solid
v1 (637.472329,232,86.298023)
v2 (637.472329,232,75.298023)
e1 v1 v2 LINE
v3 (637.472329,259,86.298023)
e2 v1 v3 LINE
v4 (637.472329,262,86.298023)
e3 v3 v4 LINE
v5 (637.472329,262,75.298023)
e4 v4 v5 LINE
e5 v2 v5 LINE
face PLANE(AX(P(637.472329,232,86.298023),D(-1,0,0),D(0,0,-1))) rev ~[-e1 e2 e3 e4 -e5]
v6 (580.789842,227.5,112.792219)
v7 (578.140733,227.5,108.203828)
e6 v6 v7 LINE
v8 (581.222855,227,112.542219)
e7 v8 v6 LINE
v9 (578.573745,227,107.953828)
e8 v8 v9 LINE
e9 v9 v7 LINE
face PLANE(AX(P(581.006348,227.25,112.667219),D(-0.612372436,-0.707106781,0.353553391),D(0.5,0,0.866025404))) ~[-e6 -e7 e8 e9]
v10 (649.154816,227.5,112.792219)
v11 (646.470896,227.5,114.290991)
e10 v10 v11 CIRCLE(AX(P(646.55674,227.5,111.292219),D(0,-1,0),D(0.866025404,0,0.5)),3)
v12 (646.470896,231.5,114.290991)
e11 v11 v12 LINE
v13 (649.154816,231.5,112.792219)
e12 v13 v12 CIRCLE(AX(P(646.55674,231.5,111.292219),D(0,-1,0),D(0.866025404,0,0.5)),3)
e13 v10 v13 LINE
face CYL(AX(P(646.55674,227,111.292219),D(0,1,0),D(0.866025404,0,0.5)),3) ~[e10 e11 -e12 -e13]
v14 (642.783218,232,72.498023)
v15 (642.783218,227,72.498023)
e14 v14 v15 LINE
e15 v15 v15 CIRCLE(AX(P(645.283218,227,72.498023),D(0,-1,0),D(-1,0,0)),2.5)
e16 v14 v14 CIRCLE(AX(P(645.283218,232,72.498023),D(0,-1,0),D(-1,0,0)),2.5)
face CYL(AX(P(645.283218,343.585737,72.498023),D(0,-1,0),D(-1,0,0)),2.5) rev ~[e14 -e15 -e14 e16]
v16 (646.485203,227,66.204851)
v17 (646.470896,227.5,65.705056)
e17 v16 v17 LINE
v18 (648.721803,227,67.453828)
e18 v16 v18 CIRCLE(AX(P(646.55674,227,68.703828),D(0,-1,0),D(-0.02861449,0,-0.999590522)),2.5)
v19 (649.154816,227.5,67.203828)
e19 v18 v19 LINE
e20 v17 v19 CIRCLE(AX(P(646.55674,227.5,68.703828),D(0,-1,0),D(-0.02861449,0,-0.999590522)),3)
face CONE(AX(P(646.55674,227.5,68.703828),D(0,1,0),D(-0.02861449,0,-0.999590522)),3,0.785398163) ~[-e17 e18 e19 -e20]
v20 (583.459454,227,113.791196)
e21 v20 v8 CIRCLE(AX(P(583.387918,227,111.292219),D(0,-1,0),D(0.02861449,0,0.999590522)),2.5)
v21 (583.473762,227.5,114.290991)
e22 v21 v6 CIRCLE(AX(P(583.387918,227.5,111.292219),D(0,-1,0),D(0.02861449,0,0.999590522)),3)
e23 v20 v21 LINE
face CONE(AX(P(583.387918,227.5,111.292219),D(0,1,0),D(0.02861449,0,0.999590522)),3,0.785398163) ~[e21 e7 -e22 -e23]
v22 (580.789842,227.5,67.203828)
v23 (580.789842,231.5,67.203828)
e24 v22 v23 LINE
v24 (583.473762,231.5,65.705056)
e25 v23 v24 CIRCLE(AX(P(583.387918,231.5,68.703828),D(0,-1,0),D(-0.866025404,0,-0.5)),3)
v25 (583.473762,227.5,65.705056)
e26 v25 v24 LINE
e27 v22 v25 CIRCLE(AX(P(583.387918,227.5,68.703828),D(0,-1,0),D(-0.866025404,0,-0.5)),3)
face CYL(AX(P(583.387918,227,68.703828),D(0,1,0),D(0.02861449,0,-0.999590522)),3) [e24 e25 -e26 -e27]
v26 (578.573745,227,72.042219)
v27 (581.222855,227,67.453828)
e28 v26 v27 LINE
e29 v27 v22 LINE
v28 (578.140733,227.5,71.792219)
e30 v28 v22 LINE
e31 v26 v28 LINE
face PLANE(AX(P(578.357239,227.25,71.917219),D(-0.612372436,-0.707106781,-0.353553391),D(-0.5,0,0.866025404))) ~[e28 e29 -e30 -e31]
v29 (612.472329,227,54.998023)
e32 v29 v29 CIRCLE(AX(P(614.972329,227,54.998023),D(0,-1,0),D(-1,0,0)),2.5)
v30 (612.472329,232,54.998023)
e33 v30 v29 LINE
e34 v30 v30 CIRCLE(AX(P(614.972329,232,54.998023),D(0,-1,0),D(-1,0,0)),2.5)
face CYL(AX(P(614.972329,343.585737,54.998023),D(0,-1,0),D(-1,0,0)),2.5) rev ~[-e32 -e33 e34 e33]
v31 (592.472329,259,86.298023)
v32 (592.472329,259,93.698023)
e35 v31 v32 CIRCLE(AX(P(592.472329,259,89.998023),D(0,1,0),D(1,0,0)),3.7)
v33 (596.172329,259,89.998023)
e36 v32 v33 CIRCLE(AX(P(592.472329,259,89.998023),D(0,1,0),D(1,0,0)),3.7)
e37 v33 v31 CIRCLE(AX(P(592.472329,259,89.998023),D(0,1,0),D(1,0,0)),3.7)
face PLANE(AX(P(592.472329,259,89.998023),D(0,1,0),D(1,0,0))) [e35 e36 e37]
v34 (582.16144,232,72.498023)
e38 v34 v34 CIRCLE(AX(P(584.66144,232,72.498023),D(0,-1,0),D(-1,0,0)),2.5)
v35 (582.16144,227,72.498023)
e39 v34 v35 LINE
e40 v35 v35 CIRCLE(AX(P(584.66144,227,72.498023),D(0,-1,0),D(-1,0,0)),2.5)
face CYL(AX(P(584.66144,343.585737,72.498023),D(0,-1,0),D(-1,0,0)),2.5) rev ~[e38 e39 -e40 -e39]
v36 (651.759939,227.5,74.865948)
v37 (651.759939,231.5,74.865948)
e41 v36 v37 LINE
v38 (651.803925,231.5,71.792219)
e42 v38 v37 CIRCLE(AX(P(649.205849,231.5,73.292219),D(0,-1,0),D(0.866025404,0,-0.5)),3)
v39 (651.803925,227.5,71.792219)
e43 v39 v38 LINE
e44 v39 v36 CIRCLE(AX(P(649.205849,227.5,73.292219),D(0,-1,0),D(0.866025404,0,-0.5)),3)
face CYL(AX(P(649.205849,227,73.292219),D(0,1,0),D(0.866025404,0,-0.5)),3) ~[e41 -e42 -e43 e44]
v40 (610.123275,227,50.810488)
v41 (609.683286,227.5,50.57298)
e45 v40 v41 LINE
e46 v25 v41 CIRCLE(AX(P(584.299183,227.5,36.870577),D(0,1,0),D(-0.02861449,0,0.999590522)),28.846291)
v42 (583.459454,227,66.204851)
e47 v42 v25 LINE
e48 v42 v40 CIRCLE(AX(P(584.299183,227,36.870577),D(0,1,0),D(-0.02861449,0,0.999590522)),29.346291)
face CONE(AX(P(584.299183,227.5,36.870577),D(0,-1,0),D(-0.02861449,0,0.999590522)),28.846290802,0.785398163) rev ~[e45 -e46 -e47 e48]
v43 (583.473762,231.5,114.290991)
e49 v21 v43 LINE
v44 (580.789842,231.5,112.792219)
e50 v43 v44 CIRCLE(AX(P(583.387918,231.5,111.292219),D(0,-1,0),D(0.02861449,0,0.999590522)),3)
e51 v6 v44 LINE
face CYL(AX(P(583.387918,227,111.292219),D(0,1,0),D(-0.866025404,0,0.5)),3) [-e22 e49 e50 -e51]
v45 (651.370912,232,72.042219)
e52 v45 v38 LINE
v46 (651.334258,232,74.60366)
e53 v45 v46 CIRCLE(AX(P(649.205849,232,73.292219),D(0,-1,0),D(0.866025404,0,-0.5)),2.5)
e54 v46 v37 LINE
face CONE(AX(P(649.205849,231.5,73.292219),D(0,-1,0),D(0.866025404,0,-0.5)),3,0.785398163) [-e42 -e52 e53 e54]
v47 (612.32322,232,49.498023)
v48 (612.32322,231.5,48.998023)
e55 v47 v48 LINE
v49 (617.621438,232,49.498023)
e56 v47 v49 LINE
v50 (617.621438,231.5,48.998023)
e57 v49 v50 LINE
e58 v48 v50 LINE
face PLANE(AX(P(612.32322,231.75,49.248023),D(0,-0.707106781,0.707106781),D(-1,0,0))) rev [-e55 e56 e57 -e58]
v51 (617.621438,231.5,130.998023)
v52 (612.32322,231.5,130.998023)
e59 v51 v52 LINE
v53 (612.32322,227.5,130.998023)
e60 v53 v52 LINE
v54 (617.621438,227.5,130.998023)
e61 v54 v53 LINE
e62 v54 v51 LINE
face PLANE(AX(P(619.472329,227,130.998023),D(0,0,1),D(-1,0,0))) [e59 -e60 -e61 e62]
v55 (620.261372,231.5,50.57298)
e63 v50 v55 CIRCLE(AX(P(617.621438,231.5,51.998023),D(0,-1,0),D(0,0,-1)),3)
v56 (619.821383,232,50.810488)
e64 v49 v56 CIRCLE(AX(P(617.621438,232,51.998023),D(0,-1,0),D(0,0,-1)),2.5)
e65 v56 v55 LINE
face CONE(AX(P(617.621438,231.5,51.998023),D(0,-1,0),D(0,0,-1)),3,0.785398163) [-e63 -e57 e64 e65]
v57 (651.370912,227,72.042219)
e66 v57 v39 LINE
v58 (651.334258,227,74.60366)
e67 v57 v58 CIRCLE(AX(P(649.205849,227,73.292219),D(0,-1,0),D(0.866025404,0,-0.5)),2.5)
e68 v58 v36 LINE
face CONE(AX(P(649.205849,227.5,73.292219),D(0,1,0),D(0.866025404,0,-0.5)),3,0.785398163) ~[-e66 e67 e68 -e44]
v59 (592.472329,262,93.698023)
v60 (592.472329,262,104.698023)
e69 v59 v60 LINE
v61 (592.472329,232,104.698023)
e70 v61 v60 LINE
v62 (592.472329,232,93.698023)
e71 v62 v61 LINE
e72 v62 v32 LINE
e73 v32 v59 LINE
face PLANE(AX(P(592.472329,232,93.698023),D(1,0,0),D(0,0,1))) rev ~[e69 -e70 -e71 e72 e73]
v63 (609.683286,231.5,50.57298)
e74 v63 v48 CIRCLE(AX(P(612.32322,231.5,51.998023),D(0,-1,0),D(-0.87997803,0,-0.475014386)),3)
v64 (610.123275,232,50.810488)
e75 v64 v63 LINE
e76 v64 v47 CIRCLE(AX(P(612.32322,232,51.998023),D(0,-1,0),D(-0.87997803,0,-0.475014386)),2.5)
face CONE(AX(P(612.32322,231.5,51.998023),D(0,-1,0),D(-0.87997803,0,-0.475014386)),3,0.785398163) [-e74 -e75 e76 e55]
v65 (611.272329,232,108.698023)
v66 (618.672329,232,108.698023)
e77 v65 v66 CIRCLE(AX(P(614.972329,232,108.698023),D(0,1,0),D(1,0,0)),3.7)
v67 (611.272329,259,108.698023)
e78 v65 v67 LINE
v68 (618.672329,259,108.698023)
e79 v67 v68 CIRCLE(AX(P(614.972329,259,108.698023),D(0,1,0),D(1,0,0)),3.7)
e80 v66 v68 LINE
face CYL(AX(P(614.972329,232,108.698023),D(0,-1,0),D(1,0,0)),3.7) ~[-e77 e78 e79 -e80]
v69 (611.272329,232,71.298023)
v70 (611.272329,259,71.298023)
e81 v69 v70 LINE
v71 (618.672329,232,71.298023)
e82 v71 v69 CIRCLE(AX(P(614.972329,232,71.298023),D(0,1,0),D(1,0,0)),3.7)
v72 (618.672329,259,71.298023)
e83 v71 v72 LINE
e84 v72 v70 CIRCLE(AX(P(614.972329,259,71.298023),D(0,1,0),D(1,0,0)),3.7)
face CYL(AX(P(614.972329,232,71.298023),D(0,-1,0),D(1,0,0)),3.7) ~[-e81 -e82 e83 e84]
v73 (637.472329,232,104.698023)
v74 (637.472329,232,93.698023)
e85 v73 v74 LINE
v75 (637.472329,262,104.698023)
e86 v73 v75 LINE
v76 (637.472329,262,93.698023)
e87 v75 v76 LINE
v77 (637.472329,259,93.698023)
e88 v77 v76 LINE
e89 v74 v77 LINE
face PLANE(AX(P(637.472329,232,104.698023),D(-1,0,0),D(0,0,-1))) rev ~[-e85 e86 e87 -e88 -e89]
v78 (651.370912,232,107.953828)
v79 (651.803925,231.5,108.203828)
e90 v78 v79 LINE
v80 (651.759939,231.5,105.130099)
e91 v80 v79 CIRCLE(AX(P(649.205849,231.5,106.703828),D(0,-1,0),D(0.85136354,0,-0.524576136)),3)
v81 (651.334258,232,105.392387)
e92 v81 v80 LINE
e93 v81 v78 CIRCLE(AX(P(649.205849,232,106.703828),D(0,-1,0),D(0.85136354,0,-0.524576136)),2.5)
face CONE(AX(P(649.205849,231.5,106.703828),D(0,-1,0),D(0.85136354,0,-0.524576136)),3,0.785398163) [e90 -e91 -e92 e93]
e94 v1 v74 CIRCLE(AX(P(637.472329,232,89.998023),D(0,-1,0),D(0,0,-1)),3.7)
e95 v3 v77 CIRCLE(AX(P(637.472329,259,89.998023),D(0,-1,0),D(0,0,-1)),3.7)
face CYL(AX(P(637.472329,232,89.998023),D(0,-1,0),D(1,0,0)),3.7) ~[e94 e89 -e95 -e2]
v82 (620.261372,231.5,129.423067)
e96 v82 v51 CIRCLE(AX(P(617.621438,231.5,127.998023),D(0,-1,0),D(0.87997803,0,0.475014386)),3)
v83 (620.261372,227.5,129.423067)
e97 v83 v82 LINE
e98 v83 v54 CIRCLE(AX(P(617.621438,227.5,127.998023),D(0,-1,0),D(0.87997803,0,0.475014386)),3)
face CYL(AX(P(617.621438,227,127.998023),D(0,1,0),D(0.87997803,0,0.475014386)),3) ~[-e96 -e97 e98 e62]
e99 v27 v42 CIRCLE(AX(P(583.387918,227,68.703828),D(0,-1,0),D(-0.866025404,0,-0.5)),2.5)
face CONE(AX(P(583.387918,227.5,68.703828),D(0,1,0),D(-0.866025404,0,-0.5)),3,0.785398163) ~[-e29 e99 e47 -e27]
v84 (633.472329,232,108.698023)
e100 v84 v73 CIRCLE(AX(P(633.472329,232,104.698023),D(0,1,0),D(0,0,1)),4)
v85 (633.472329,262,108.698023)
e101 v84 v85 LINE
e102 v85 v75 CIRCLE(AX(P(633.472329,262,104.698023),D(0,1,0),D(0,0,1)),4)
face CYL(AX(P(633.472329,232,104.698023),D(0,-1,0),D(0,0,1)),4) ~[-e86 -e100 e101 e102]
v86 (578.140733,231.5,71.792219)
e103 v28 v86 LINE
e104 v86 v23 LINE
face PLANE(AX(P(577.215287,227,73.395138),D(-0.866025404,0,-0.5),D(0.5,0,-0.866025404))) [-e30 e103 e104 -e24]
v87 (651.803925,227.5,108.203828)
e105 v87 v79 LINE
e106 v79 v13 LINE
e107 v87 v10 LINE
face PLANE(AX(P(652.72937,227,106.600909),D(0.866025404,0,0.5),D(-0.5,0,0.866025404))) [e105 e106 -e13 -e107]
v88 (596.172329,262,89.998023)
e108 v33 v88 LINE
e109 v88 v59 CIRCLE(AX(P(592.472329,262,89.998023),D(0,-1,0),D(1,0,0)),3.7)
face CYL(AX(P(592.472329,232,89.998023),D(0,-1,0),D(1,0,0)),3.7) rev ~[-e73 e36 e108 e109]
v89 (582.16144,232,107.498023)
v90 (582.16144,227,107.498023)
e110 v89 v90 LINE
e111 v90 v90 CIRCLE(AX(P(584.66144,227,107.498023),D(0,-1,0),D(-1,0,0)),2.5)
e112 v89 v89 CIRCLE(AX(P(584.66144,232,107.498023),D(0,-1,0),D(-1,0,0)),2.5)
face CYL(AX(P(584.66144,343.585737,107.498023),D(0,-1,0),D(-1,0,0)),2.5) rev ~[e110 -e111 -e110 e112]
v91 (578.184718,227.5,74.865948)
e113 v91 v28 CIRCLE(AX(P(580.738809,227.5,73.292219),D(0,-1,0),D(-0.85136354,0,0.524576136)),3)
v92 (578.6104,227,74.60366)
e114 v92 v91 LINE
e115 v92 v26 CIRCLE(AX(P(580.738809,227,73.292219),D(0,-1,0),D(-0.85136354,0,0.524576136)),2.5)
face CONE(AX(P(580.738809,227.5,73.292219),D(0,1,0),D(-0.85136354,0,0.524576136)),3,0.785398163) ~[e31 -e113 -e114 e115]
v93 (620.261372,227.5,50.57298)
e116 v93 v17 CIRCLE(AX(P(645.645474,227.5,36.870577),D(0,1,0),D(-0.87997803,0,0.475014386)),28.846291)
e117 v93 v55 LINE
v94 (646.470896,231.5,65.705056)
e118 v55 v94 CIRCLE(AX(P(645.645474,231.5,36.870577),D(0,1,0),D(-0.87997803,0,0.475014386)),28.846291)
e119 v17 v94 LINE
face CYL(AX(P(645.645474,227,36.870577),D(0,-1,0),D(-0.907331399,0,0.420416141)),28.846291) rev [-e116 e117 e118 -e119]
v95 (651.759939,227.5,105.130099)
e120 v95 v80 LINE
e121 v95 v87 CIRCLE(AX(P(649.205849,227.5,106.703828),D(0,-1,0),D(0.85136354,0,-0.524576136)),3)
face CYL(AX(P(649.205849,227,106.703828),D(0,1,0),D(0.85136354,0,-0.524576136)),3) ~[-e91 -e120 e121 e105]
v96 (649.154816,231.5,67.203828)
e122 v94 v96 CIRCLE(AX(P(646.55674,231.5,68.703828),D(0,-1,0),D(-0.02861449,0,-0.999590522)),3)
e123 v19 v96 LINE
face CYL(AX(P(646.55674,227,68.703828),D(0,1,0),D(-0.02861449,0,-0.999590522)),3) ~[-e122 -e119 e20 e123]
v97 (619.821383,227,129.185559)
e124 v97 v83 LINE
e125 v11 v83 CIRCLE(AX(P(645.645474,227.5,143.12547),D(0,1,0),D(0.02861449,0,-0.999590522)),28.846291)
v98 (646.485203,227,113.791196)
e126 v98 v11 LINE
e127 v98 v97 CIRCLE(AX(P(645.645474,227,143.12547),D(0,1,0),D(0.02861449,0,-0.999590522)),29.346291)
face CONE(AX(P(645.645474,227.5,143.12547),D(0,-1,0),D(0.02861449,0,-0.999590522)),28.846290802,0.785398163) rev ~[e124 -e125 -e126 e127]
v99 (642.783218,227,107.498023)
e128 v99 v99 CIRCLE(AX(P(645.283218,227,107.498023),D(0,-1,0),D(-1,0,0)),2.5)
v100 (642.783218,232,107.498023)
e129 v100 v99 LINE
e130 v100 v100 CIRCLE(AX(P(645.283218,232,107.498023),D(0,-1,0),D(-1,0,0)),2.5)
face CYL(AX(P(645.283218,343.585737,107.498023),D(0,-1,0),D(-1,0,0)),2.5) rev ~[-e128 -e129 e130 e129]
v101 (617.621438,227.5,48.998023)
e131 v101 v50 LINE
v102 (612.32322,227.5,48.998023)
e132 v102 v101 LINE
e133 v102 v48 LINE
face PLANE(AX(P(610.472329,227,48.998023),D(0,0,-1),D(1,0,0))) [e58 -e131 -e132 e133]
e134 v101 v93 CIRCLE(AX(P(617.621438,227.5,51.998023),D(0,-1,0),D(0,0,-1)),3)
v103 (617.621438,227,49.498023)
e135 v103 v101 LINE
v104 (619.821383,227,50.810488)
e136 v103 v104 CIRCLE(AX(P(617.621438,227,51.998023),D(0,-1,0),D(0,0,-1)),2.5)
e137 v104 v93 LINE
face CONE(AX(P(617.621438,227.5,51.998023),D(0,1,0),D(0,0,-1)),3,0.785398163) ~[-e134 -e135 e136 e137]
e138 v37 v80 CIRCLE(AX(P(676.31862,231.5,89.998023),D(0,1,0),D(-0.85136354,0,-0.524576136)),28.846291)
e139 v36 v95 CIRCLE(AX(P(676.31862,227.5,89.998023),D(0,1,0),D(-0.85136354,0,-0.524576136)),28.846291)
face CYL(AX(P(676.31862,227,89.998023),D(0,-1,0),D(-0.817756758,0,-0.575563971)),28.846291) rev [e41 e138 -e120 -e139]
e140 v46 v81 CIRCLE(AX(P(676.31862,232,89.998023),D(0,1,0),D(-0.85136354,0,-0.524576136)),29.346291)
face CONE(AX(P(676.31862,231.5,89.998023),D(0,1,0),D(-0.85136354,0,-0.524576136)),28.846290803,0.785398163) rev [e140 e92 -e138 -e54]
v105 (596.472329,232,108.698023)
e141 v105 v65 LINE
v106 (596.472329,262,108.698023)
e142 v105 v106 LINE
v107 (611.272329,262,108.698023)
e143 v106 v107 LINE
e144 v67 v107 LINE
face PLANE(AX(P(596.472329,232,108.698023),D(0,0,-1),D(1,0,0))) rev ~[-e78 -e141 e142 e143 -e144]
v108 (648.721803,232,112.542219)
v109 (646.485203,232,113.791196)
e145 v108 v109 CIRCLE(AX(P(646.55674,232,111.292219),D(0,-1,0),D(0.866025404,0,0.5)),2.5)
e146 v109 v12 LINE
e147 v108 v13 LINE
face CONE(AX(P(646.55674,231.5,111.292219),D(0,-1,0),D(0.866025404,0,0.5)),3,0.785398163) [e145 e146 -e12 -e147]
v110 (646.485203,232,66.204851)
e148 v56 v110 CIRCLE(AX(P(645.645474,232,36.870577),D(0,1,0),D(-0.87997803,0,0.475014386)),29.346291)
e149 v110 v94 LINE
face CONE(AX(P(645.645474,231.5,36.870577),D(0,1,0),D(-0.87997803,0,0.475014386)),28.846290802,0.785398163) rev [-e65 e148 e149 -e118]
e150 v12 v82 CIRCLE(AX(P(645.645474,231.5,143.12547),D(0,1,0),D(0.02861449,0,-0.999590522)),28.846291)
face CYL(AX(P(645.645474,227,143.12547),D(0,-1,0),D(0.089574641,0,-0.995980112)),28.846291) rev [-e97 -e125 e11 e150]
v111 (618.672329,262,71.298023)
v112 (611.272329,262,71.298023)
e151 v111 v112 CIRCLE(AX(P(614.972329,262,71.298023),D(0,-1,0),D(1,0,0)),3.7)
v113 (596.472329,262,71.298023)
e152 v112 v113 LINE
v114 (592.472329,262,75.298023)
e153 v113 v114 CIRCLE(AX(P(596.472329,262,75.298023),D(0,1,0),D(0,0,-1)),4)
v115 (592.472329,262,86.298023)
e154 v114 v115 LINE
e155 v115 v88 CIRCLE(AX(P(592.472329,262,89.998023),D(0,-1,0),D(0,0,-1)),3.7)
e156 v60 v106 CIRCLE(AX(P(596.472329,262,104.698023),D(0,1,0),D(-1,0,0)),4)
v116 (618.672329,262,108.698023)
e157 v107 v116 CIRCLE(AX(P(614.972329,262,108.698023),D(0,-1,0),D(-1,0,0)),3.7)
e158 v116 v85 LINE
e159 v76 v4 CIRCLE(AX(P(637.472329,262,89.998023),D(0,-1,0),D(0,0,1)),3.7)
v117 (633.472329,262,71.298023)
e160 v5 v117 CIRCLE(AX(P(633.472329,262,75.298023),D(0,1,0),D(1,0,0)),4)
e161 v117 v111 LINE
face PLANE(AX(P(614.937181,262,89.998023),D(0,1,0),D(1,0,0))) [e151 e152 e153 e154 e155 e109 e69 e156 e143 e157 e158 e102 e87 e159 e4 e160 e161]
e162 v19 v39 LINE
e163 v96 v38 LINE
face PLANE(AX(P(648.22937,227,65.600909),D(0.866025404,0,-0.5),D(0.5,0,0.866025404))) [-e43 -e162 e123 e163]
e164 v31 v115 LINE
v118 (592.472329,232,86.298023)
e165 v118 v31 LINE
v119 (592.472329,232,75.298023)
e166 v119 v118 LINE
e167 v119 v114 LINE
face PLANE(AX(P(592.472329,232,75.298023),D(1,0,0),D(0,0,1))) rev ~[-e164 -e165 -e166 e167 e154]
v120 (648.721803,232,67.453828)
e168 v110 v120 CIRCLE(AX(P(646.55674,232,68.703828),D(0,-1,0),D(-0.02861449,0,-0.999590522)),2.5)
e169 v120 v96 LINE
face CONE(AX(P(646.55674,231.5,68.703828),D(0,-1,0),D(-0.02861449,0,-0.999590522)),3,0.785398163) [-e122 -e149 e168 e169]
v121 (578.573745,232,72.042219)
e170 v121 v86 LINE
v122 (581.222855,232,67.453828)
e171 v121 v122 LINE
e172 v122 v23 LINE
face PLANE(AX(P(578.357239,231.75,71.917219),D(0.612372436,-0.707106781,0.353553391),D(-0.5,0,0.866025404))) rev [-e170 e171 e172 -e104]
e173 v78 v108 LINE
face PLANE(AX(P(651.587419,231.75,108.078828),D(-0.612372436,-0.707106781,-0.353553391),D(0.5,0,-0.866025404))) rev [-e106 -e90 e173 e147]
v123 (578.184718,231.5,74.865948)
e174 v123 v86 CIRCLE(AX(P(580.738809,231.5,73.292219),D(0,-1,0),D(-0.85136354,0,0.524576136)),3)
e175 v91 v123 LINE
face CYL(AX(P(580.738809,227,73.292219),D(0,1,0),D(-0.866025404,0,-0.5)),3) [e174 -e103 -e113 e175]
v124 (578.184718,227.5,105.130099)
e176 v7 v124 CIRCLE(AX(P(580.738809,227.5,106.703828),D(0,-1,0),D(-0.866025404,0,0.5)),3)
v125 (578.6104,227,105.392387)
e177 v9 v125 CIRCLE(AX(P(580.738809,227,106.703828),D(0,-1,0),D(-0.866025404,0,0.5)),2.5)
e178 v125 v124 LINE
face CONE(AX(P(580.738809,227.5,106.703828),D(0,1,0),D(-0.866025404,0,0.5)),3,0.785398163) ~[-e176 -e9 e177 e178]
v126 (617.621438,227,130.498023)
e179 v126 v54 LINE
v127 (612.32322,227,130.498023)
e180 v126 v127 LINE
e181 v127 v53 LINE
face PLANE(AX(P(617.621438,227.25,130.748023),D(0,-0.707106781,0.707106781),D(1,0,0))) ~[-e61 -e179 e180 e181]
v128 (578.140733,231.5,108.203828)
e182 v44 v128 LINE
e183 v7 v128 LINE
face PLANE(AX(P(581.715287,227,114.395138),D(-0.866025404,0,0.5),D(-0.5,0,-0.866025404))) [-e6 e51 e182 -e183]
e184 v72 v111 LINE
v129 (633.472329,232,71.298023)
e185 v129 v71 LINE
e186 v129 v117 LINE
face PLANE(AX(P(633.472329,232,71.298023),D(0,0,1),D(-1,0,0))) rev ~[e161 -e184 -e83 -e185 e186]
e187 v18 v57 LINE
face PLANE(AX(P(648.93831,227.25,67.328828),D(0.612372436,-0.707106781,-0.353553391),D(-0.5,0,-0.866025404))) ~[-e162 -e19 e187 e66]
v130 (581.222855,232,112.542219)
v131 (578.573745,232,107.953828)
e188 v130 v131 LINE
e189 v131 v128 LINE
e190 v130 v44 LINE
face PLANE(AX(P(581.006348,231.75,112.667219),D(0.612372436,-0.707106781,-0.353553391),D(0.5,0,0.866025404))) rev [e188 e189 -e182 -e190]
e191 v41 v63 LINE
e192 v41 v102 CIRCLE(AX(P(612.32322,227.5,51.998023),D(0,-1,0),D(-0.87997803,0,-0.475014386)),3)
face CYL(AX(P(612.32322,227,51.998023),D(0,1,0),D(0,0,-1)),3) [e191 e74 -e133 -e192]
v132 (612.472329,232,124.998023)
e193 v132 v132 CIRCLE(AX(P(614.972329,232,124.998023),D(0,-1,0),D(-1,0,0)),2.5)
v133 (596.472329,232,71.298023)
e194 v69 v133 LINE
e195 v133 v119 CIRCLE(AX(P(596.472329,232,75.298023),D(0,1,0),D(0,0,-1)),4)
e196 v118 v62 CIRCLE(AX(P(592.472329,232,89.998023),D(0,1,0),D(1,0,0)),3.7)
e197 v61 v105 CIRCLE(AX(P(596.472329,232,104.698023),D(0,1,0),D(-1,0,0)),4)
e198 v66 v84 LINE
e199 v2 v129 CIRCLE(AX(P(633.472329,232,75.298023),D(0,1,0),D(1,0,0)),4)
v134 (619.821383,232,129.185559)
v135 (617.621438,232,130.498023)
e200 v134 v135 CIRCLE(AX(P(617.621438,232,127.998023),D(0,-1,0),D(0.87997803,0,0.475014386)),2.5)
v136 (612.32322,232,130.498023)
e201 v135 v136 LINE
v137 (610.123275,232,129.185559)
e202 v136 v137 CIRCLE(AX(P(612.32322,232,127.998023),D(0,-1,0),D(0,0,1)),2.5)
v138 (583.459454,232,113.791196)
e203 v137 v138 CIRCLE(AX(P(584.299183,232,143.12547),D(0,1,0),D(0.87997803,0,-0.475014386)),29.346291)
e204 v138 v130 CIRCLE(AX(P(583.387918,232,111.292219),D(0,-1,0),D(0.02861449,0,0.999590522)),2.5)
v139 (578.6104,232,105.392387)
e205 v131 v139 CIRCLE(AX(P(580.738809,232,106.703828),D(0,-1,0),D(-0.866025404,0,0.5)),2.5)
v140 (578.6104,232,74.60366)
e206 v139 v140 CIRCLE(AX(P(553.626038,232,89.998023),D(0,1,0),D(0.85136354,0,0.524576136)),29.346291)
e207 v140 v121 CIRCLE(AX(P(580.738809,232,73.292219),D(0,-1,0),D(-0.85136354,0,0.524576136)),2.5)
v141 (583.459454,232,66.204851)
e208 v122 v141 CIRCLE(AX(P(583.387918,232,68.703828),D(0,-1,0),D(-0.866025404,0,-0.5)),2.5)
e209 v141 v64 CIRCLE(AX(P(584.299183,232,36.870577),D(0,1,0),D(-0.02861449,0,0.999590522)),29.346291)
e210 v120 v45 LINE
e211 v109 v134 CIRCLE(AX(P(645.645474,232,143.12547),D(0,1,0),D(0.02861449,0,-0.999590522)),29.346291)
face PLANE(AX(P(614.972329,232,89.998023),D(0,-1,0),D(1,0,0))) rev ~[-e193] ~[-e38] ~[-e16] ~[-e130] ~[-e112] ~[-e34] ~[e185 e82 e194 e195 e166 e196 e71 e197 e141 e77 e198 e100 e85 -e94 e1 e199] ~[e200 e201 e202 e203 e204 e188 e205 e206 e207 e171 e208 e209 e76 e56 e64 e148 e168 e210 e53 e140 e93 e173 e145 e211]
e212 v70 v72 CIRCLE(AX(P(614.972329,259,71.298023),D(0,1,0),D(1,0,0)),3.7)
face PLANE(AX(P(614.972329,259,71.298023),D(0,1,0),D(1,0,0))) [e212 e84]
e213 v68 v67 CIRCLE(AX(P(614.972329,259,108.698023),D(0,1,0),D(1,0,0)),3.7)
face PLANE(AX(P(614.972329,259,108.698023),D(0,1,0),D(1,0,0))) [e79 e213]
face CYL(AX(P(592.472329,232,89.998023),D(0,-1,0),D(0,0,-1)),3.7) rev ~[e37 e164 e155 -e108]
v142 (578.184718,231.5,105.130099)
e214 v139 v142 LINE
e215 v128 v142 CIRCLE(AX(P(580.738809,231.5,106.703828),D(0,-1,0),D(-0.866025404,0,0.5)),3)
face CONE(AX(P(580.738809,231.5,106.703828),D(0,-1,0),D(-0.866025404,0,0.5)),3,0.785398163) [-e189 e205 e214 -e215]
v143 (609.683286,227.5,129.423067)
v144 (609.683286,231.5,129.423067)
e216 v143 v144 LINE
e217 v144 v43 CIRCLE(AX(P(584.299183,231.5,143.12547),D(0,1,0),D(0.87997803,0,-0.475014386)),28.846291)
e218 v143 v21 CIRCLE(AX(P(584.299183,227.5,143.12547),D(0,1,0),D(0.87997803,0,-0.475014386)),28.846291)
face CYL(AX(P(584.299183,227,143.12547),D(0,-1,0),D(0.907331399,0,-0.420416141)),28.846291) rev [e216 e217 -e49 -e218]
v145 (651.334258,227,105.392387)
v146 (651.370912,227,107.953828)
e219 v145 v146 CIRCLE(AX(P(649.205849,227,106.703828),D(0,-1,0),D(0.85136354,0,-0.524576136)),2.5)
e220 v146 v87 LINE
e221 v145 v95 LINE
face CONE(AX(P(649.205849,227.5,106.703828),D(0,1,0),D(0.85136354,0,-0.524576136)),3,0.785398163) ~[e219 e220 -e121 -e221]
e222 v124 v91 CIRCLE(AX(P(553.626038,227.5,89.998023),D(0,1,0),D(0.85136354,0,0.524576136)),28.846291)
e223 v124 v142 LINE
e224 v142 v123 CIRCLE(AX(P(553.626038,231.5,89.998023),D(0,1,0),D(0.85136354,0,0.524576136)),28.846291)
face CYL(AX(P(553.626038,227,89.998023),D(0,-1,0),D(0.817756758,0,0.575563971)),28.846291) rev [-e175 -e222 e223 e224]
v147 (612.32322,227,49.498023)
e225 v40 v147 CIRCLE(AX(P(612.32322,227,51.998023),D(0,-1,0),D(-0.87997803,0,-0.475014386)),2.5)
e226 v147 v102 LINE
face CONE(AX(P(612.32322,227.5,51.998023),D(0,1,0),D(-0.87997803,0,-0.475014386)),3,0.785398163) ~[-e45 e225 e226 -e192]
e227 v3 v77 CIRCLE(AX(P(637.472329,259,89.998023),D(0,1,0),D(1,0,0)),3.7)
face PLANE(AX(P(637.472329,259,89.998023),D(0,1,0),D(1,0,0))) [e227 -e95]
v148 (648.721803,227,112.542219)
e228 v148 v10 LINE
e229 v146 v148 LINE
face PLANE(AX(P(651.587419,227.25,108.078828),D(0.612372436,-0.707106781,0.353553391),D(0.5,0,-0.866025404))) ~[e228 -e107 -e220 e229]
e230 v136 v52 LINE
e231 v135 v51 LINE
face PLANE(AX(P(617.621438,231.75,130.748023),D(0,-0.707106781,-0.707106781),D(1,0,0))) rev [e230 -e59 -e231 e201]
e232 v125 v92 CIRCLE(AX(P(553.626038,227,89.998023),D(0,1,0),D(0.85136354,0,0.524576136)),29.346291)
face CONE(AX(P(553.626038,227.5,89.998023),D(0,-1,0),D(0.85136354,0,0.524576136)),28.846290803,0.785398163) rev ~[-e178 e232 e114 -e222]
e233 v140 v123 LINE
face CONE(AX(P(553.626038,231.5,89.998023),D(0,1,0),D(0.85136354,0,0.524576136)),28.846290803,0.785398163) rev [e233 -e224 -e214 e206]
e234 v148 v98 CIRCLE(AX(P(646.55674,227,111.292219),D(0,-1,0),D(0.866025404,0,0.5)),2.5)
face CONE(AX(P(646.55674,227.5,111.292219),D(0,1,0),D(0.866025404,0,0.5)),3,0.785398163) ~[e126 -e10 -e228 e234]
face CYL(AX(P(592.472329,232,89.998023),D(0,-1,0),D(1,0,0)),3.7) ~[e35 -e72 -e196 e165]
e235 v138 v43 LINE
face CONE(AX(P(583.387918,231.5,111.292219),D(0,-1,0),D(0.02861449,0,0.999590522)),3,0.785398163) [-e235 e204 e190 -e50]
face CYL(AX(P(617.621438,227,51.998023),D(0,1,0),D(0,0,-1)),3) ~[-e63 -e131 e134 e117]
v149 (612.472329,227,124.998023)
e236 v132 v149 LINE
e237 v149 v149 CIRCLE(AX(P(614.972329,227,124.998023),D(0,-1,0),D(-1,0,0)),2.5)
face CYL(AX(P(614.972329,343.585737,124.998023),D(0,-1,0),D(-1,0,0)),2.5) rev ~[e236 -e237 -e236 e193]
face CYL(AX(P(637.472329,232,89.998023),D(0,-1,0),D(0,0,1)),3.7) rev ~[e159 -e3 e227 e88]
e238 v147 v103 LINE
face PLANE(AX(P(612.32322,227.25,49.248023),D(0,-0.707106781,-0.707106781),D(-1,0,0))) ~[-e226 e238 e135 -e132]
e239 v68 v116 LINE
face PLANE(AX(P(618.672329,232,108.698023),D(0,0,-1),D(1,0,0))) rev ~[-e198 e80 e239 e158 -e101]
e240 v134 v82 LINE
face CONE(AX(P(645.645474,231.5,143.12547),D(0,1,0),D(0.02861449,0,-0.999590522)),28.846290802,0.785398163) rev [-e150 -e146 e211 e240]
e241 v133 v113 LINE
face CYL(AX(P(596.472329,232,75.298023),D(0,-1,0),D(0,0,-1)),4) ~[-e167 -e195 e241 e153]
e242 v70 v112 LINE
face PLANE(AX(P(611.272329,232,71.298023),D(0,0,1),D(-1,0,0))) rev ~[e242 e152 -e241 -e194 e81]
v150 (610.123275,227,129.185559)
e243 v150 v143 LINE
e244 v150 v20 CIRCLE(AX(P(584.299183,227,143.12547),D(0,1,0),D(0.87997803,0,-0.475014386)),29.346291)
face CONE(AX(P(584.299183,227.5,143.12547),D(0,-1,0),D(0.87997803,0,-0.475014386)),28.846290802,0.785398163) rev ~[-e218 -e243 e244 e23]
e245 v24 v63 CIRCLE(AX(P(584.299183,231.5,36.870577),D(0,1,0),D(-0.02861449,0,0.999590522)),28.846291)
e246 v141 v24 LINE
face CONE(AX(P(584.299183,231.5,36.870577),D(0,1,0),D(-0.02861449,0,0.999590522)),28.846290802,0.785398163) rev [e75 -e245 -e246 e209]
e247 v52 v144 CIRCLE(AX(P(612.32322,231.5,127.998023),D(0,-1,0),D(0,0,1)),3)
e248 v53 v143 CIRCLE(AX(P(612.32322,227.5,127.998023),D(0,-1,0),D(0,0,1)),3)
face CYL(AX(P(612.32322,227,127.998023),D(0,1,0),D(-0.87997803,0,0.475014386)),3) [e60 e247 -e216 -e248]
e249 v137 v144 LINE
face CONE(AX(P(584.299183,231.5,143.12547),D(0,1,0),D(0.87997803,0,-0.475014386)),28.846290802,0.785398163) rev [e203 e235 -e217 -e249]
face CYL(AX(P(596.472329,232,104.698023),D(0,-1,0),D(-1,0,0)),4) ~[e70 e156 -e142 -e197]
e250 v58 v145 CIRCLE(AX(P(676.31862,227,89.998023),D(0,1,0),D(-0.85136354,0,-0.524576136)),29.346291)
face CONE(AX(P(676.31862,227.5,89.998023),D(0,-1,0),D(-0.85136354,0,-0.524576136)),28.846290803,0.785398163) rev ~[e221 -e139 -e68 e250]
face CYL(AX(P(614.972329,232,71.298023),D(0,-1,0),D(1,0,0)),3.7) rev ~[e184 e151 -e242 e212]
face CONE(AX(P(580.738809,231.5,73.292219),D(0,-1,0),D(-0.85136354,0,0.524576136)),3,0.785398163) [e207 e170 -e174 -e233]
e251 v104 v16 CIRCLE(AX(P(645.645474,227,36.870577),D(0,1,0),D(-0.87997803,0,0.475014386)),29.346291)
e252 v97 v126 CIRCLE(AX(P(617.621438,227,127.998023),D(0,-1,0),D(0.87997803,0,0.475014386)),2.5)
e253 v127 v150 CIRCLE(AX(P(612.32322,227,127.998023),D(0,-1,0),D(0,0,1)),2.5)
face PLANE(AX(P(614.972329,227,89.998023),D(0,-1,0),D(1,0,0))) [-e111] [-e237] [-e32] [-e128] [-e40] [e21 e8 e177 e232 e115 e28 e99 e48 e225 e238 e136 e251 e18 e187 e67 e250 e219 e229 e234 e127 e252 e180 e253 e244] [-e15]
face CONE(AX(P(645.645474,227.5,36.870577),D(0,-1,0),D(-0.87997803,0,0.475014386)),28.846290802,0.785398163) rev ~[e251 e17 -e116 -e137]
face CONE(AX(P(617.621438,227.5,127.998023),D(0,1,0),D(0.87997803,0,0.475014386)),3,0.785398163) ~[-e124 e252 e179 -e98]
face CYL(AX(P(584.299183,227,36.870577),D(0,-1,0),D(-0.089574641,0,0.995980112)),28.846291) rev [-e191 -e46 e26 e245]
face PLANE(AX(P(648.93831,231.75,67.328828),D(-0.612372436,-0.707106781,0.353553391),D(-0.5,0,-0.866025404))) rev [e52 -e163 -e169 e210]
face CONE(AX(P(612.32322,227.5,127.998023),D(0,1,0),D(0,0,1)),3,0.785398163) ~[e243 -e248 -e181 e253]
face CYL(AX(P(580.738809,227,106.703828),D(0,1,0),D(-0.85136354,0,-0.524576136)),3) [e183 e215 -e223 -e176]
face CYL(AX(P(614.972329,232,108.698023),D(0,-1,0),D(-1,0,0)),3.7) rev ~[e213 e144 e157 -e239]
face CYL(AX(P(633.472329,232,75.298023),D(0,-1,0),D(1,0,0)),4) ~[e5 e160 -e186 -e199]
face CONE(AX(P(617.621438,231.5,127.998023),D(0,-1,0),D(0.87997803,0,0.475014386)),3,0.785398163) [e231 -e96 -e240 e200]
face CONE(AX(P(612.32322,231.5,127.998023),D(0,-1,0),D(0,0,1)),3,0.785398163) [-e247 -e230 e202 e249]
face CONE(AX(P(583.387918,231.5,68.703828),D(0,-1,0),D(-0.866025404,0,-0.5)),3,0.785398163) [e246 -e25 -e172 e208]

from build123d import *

# Parameters (mm, degrees)
BOSS_EXTRUDE1_DEPTH    = 5
F_10_CLEARANCE_HOLE1_D = 5
FILLET1_R              = 3
CHAMFER1_SIZE          = 0.5
BOSS_EXTRUDE4_DEPTH    = 30
SKETCH5_R              = 3.7
BOSS_EXTRUDE5_DEPTH    = 27


with BuildPart() as part:
    # Sketch1 → Boss-Extrude1 (new body)
    with BuildSketch(Plane.XZ.offset(-227)):
        with BuildLine():
            Line((610.472328875, 48.998023491), (619.472328875, 48.998023491))
            ThreePointArc((619.472328875, 48.998023491), (631.222328875, 61.852197868), (648.22937043, 65.600909174))
            Line((648.22937043, 65.600909174), (652.72937043, 73.395137808))
            ThreePointArc((652.72937043, 73.395137808), (647.472328875, 89.998023491), (652.72937043, 106.600909174))
            Line((652.72937043, 106.600909174), (648.22937043, 114.395137808))
            ThreePointArc((648.22937043, 114.395137808), (631.222328875, 118.143849114), (619.472328875, 130.998023491))
            Line((619.472328875, 130.998023491), (610.472328875, 130.998023491))
            ThreePointArc((610.472328875, 130.998023491), (598.722328875, 118.143849114), (581.71528732, 114.395137808))
            Line((581.71528732, 114.395137808), (577.21528732, 106.600909174))
            ThreePointArc((577.21528732, 106.600909174), (582.472328875, 89.998023491), (577.21528732, 73.395137808))
            Line((577.21528732, 73.395137808), (581.71528732, 65.600909174))
            ThreePointArc((581.71528732, 65.600909174), (598.722328875, 61.852197868), (610.472328875, 48.998023491))
        make_face()
    extrude(amount=-BOSS_EXTRUDE1_DEPTH)

    # #10 Clearance Hole1 (through all)
    with Locations(Plane(origin=(0, 232, 0), x_dir=(1, 0, 0), z_dir=(0, 1, 0))):
        with Locations((614.972328875, -124.998023491), (584.661439743, -72.498023491), (584.661439743, -107.498023491), (614.972328875, -54.998023491), (645.283218008, -107.498023491), (645.283218008, -72.498023491)):
            Hole(F_10_CLEARANCE_HOLE1_D / 2)

    # Fillet1
    fillet1_edges = [part.edges().sort_by_distance(p)[0] for p in [
        (581.71528732, 229.5, 65.600909174),
        (577.21528732, 229.5, 73.395137808),
        (577.21528732, 229.5, 106.600909174),
        (581.71528732, 229.5, 114.395137808),
        (610.472328875, 229.5, 130.998023491),
        (619.472328875, 229.5, 130.998023491),
        (648.22937043, 229.5, 114.395137808),
        (652.72937043, 229.5, 106.600909174),
        (652.72937043, 229.5, 73.395137808),
        (648.22937043, 229.5, 65.600909174),
        (619.472328875, 229.5, 48.998023491),
        (610.472328875, 229.5, 48.998023491),
    ]]
    fillet(fillet1_edges, radius=FILLET1_R)

    # Chamfer1
    chamfer1_edges = [part.edges().sort_by_distance(p)[0] for p in [
        (647.472328875, 227, 89.998023491),
        (647.472328875, 232, 89.998023491),
        (598.722328875, 227, 61.852197868),
        (614.972328875, 227, 48.998023491),
        (631.222328875, 227, 61.852197868),
        (650.47937043, 227, 69.498023491),
        (650.47937043, 227, 110.498023491),
        (631.222328875, 227, 118.143849114),
        (614.972328875, 227, 130.998023491),
        (598.722328875, 227, 118.143849114),
        (579.46528732, 227, 110.498023491),
        (582.472328875, 227, 89.998023491),
        (579.46528732, 227, 69.498023491),
        (581.92524679, 227, 113.911492617),
        (610.786198162, 227, 130.57437066),
        (610.786198162, 227, 49.421676322),
        (577.739116077, 227, 73.335145448),
        (619.158459588, 227, 49.421676322),
        (648.01941096, 227, 113.911492617),
        (619.158459588, 227, 130.57437066),
        (652.205541673, 227, 73.335145448),
        (648.01941096, 227, 66.084554366),
        (581.92524679, 227, 66.084554366),
        (577.739116077, 227, 106.660901535),
        (652.205541673, 227, 106.660901535),
        (650.47937043, 232, 110.498023491),
        (598.722328875, 232, 61.852197868),
        (579.46528732, 232, 69.498023491),
        (582.472328875, 232, 89.998023491),
        (579.46528732, 232, 110.498023491),
        (598.722328875, 232, 118.143849114),
        (614.972328875, 232, 130.998023491),
        (631.222328875, 232, 118.143849114),
        (650.47937043, 232, 69.498023491),
        (631.222328875, 232, 61.852197868),
        (614.972328875, 232, 48.998023491),
        (581.92524679, 232, 113.911492617),
        (610.786198162, 232, 130.57437066),
        (610.786198162, 232, 49.421676322),
        (577.739116077, 232, 73.335145448),
        (619.158459588, 232, 49.421676322),
        (648.01941096, 232, 113.911492617),
        (619.158459588, 232, 130.57437066),
        (652.205541673, 232, 73.335145448),
        (648.01941096, 232, 66.084554366),
        (581.92524679, 232, 66.084554366),
        (577.739116077, 232, 106.660901535),
        (652.205541673, 232, 106.660901535),
    ]]
    chamfer(chamfer1_edges, length=CHAMFER1_SIZE)

    # Sketch4 → Boss-Extrude4 (add)
    with BuildSketch(Plane(origin=(0, 232, 0), x_dir=(1, 0, 0), z_dir=(0, 1, 0))):
        with BuildLine():
            ThreePointArc((611.272328875, -108.698023491), (614.972328875, -104.998023491), (618.672328875, -108.698023491))
            Line((618.672328875, -108.698023491), (633.472328875, -108.698023491))
            ThreePointArc((633.472328875, -108.698023491), (636.300756, -107.526450616), (637.472328875, -104.698023491))
            Line((637.472328875, -104.698023491), (637.472328875, -93.698023491))
            ThreePointArc((637.472328875, -93.698023491), (633.772328875, -89.998023491), (637.472328875, -86.298023491))
            Line((637.472328875, -86.298023491), (637.472328875, -75.298023491))
            ThreePointArc((637.472328875, -75.298023491), (636.300756, -72.469596366), (633.472328875, -71.298023491))
            Line((633.472328875, -71.298023491), (618.672328875, -71.298023491))
            ThreePointArc((618.672328875, -71.298023491), (614.972328875, -74.998023491), (611.272328875, -71.298023491))
            Line((611.272328875, -71.298023491), (596.472328875, -71.298023491))
            ThreePointArc((596.472328875, -71.298023491), (593.64390175, -72.469596366), (592.472328875, -75.298023491))
            Line((592.472328875, -75.298023491), (592.472328875, -86.298023491))
            ThreePointArc((592.472328875, -86.298023491), (595.088623966, -87.381728401), (596.172328875, -89.998023491))
            ThreePointArc((596.172328875, -89.998023491), (595.088623966, -92.614318581), (592.472328875, -93.698023491))
            Line((592.472328875, -93.698023491), (592.472328875, -104.698023491))
            ThreePointArc((592.472328875, -104.698023491), (593.64390175, -107.526450616), (596.472328875, -108.698023491))
            Line((596.472328875, -108.698023491), (611.272328875, -108.698023491))
        make_face()
    extrude(amount=BOSS_EXTRUDE4_DEPTH)

    # Sketch5 → Boss-Extrude5 (add)
    with BuildSketch(Plane(origin=(0, 232, 0), x_dir=(1, 0, 0), z_dir=(0, 1, 0))):
        with Locations((614.972328875, -71.298023491)):
            Circle(SKETCH5_R)
        with Locations((637.472328875, -89.998023491)):
            Circle(SKETCH5_R)
        with Locations((614.972328875, -108.698023491)):
            Circle(SKETCH5_R)
        with Locations((592.472328875, -89.998023491)):
            Circle(SKETCH5_R)
    extrude(amount=BOSS_EXTRUDE5_DEPTH)


solid = part.part
